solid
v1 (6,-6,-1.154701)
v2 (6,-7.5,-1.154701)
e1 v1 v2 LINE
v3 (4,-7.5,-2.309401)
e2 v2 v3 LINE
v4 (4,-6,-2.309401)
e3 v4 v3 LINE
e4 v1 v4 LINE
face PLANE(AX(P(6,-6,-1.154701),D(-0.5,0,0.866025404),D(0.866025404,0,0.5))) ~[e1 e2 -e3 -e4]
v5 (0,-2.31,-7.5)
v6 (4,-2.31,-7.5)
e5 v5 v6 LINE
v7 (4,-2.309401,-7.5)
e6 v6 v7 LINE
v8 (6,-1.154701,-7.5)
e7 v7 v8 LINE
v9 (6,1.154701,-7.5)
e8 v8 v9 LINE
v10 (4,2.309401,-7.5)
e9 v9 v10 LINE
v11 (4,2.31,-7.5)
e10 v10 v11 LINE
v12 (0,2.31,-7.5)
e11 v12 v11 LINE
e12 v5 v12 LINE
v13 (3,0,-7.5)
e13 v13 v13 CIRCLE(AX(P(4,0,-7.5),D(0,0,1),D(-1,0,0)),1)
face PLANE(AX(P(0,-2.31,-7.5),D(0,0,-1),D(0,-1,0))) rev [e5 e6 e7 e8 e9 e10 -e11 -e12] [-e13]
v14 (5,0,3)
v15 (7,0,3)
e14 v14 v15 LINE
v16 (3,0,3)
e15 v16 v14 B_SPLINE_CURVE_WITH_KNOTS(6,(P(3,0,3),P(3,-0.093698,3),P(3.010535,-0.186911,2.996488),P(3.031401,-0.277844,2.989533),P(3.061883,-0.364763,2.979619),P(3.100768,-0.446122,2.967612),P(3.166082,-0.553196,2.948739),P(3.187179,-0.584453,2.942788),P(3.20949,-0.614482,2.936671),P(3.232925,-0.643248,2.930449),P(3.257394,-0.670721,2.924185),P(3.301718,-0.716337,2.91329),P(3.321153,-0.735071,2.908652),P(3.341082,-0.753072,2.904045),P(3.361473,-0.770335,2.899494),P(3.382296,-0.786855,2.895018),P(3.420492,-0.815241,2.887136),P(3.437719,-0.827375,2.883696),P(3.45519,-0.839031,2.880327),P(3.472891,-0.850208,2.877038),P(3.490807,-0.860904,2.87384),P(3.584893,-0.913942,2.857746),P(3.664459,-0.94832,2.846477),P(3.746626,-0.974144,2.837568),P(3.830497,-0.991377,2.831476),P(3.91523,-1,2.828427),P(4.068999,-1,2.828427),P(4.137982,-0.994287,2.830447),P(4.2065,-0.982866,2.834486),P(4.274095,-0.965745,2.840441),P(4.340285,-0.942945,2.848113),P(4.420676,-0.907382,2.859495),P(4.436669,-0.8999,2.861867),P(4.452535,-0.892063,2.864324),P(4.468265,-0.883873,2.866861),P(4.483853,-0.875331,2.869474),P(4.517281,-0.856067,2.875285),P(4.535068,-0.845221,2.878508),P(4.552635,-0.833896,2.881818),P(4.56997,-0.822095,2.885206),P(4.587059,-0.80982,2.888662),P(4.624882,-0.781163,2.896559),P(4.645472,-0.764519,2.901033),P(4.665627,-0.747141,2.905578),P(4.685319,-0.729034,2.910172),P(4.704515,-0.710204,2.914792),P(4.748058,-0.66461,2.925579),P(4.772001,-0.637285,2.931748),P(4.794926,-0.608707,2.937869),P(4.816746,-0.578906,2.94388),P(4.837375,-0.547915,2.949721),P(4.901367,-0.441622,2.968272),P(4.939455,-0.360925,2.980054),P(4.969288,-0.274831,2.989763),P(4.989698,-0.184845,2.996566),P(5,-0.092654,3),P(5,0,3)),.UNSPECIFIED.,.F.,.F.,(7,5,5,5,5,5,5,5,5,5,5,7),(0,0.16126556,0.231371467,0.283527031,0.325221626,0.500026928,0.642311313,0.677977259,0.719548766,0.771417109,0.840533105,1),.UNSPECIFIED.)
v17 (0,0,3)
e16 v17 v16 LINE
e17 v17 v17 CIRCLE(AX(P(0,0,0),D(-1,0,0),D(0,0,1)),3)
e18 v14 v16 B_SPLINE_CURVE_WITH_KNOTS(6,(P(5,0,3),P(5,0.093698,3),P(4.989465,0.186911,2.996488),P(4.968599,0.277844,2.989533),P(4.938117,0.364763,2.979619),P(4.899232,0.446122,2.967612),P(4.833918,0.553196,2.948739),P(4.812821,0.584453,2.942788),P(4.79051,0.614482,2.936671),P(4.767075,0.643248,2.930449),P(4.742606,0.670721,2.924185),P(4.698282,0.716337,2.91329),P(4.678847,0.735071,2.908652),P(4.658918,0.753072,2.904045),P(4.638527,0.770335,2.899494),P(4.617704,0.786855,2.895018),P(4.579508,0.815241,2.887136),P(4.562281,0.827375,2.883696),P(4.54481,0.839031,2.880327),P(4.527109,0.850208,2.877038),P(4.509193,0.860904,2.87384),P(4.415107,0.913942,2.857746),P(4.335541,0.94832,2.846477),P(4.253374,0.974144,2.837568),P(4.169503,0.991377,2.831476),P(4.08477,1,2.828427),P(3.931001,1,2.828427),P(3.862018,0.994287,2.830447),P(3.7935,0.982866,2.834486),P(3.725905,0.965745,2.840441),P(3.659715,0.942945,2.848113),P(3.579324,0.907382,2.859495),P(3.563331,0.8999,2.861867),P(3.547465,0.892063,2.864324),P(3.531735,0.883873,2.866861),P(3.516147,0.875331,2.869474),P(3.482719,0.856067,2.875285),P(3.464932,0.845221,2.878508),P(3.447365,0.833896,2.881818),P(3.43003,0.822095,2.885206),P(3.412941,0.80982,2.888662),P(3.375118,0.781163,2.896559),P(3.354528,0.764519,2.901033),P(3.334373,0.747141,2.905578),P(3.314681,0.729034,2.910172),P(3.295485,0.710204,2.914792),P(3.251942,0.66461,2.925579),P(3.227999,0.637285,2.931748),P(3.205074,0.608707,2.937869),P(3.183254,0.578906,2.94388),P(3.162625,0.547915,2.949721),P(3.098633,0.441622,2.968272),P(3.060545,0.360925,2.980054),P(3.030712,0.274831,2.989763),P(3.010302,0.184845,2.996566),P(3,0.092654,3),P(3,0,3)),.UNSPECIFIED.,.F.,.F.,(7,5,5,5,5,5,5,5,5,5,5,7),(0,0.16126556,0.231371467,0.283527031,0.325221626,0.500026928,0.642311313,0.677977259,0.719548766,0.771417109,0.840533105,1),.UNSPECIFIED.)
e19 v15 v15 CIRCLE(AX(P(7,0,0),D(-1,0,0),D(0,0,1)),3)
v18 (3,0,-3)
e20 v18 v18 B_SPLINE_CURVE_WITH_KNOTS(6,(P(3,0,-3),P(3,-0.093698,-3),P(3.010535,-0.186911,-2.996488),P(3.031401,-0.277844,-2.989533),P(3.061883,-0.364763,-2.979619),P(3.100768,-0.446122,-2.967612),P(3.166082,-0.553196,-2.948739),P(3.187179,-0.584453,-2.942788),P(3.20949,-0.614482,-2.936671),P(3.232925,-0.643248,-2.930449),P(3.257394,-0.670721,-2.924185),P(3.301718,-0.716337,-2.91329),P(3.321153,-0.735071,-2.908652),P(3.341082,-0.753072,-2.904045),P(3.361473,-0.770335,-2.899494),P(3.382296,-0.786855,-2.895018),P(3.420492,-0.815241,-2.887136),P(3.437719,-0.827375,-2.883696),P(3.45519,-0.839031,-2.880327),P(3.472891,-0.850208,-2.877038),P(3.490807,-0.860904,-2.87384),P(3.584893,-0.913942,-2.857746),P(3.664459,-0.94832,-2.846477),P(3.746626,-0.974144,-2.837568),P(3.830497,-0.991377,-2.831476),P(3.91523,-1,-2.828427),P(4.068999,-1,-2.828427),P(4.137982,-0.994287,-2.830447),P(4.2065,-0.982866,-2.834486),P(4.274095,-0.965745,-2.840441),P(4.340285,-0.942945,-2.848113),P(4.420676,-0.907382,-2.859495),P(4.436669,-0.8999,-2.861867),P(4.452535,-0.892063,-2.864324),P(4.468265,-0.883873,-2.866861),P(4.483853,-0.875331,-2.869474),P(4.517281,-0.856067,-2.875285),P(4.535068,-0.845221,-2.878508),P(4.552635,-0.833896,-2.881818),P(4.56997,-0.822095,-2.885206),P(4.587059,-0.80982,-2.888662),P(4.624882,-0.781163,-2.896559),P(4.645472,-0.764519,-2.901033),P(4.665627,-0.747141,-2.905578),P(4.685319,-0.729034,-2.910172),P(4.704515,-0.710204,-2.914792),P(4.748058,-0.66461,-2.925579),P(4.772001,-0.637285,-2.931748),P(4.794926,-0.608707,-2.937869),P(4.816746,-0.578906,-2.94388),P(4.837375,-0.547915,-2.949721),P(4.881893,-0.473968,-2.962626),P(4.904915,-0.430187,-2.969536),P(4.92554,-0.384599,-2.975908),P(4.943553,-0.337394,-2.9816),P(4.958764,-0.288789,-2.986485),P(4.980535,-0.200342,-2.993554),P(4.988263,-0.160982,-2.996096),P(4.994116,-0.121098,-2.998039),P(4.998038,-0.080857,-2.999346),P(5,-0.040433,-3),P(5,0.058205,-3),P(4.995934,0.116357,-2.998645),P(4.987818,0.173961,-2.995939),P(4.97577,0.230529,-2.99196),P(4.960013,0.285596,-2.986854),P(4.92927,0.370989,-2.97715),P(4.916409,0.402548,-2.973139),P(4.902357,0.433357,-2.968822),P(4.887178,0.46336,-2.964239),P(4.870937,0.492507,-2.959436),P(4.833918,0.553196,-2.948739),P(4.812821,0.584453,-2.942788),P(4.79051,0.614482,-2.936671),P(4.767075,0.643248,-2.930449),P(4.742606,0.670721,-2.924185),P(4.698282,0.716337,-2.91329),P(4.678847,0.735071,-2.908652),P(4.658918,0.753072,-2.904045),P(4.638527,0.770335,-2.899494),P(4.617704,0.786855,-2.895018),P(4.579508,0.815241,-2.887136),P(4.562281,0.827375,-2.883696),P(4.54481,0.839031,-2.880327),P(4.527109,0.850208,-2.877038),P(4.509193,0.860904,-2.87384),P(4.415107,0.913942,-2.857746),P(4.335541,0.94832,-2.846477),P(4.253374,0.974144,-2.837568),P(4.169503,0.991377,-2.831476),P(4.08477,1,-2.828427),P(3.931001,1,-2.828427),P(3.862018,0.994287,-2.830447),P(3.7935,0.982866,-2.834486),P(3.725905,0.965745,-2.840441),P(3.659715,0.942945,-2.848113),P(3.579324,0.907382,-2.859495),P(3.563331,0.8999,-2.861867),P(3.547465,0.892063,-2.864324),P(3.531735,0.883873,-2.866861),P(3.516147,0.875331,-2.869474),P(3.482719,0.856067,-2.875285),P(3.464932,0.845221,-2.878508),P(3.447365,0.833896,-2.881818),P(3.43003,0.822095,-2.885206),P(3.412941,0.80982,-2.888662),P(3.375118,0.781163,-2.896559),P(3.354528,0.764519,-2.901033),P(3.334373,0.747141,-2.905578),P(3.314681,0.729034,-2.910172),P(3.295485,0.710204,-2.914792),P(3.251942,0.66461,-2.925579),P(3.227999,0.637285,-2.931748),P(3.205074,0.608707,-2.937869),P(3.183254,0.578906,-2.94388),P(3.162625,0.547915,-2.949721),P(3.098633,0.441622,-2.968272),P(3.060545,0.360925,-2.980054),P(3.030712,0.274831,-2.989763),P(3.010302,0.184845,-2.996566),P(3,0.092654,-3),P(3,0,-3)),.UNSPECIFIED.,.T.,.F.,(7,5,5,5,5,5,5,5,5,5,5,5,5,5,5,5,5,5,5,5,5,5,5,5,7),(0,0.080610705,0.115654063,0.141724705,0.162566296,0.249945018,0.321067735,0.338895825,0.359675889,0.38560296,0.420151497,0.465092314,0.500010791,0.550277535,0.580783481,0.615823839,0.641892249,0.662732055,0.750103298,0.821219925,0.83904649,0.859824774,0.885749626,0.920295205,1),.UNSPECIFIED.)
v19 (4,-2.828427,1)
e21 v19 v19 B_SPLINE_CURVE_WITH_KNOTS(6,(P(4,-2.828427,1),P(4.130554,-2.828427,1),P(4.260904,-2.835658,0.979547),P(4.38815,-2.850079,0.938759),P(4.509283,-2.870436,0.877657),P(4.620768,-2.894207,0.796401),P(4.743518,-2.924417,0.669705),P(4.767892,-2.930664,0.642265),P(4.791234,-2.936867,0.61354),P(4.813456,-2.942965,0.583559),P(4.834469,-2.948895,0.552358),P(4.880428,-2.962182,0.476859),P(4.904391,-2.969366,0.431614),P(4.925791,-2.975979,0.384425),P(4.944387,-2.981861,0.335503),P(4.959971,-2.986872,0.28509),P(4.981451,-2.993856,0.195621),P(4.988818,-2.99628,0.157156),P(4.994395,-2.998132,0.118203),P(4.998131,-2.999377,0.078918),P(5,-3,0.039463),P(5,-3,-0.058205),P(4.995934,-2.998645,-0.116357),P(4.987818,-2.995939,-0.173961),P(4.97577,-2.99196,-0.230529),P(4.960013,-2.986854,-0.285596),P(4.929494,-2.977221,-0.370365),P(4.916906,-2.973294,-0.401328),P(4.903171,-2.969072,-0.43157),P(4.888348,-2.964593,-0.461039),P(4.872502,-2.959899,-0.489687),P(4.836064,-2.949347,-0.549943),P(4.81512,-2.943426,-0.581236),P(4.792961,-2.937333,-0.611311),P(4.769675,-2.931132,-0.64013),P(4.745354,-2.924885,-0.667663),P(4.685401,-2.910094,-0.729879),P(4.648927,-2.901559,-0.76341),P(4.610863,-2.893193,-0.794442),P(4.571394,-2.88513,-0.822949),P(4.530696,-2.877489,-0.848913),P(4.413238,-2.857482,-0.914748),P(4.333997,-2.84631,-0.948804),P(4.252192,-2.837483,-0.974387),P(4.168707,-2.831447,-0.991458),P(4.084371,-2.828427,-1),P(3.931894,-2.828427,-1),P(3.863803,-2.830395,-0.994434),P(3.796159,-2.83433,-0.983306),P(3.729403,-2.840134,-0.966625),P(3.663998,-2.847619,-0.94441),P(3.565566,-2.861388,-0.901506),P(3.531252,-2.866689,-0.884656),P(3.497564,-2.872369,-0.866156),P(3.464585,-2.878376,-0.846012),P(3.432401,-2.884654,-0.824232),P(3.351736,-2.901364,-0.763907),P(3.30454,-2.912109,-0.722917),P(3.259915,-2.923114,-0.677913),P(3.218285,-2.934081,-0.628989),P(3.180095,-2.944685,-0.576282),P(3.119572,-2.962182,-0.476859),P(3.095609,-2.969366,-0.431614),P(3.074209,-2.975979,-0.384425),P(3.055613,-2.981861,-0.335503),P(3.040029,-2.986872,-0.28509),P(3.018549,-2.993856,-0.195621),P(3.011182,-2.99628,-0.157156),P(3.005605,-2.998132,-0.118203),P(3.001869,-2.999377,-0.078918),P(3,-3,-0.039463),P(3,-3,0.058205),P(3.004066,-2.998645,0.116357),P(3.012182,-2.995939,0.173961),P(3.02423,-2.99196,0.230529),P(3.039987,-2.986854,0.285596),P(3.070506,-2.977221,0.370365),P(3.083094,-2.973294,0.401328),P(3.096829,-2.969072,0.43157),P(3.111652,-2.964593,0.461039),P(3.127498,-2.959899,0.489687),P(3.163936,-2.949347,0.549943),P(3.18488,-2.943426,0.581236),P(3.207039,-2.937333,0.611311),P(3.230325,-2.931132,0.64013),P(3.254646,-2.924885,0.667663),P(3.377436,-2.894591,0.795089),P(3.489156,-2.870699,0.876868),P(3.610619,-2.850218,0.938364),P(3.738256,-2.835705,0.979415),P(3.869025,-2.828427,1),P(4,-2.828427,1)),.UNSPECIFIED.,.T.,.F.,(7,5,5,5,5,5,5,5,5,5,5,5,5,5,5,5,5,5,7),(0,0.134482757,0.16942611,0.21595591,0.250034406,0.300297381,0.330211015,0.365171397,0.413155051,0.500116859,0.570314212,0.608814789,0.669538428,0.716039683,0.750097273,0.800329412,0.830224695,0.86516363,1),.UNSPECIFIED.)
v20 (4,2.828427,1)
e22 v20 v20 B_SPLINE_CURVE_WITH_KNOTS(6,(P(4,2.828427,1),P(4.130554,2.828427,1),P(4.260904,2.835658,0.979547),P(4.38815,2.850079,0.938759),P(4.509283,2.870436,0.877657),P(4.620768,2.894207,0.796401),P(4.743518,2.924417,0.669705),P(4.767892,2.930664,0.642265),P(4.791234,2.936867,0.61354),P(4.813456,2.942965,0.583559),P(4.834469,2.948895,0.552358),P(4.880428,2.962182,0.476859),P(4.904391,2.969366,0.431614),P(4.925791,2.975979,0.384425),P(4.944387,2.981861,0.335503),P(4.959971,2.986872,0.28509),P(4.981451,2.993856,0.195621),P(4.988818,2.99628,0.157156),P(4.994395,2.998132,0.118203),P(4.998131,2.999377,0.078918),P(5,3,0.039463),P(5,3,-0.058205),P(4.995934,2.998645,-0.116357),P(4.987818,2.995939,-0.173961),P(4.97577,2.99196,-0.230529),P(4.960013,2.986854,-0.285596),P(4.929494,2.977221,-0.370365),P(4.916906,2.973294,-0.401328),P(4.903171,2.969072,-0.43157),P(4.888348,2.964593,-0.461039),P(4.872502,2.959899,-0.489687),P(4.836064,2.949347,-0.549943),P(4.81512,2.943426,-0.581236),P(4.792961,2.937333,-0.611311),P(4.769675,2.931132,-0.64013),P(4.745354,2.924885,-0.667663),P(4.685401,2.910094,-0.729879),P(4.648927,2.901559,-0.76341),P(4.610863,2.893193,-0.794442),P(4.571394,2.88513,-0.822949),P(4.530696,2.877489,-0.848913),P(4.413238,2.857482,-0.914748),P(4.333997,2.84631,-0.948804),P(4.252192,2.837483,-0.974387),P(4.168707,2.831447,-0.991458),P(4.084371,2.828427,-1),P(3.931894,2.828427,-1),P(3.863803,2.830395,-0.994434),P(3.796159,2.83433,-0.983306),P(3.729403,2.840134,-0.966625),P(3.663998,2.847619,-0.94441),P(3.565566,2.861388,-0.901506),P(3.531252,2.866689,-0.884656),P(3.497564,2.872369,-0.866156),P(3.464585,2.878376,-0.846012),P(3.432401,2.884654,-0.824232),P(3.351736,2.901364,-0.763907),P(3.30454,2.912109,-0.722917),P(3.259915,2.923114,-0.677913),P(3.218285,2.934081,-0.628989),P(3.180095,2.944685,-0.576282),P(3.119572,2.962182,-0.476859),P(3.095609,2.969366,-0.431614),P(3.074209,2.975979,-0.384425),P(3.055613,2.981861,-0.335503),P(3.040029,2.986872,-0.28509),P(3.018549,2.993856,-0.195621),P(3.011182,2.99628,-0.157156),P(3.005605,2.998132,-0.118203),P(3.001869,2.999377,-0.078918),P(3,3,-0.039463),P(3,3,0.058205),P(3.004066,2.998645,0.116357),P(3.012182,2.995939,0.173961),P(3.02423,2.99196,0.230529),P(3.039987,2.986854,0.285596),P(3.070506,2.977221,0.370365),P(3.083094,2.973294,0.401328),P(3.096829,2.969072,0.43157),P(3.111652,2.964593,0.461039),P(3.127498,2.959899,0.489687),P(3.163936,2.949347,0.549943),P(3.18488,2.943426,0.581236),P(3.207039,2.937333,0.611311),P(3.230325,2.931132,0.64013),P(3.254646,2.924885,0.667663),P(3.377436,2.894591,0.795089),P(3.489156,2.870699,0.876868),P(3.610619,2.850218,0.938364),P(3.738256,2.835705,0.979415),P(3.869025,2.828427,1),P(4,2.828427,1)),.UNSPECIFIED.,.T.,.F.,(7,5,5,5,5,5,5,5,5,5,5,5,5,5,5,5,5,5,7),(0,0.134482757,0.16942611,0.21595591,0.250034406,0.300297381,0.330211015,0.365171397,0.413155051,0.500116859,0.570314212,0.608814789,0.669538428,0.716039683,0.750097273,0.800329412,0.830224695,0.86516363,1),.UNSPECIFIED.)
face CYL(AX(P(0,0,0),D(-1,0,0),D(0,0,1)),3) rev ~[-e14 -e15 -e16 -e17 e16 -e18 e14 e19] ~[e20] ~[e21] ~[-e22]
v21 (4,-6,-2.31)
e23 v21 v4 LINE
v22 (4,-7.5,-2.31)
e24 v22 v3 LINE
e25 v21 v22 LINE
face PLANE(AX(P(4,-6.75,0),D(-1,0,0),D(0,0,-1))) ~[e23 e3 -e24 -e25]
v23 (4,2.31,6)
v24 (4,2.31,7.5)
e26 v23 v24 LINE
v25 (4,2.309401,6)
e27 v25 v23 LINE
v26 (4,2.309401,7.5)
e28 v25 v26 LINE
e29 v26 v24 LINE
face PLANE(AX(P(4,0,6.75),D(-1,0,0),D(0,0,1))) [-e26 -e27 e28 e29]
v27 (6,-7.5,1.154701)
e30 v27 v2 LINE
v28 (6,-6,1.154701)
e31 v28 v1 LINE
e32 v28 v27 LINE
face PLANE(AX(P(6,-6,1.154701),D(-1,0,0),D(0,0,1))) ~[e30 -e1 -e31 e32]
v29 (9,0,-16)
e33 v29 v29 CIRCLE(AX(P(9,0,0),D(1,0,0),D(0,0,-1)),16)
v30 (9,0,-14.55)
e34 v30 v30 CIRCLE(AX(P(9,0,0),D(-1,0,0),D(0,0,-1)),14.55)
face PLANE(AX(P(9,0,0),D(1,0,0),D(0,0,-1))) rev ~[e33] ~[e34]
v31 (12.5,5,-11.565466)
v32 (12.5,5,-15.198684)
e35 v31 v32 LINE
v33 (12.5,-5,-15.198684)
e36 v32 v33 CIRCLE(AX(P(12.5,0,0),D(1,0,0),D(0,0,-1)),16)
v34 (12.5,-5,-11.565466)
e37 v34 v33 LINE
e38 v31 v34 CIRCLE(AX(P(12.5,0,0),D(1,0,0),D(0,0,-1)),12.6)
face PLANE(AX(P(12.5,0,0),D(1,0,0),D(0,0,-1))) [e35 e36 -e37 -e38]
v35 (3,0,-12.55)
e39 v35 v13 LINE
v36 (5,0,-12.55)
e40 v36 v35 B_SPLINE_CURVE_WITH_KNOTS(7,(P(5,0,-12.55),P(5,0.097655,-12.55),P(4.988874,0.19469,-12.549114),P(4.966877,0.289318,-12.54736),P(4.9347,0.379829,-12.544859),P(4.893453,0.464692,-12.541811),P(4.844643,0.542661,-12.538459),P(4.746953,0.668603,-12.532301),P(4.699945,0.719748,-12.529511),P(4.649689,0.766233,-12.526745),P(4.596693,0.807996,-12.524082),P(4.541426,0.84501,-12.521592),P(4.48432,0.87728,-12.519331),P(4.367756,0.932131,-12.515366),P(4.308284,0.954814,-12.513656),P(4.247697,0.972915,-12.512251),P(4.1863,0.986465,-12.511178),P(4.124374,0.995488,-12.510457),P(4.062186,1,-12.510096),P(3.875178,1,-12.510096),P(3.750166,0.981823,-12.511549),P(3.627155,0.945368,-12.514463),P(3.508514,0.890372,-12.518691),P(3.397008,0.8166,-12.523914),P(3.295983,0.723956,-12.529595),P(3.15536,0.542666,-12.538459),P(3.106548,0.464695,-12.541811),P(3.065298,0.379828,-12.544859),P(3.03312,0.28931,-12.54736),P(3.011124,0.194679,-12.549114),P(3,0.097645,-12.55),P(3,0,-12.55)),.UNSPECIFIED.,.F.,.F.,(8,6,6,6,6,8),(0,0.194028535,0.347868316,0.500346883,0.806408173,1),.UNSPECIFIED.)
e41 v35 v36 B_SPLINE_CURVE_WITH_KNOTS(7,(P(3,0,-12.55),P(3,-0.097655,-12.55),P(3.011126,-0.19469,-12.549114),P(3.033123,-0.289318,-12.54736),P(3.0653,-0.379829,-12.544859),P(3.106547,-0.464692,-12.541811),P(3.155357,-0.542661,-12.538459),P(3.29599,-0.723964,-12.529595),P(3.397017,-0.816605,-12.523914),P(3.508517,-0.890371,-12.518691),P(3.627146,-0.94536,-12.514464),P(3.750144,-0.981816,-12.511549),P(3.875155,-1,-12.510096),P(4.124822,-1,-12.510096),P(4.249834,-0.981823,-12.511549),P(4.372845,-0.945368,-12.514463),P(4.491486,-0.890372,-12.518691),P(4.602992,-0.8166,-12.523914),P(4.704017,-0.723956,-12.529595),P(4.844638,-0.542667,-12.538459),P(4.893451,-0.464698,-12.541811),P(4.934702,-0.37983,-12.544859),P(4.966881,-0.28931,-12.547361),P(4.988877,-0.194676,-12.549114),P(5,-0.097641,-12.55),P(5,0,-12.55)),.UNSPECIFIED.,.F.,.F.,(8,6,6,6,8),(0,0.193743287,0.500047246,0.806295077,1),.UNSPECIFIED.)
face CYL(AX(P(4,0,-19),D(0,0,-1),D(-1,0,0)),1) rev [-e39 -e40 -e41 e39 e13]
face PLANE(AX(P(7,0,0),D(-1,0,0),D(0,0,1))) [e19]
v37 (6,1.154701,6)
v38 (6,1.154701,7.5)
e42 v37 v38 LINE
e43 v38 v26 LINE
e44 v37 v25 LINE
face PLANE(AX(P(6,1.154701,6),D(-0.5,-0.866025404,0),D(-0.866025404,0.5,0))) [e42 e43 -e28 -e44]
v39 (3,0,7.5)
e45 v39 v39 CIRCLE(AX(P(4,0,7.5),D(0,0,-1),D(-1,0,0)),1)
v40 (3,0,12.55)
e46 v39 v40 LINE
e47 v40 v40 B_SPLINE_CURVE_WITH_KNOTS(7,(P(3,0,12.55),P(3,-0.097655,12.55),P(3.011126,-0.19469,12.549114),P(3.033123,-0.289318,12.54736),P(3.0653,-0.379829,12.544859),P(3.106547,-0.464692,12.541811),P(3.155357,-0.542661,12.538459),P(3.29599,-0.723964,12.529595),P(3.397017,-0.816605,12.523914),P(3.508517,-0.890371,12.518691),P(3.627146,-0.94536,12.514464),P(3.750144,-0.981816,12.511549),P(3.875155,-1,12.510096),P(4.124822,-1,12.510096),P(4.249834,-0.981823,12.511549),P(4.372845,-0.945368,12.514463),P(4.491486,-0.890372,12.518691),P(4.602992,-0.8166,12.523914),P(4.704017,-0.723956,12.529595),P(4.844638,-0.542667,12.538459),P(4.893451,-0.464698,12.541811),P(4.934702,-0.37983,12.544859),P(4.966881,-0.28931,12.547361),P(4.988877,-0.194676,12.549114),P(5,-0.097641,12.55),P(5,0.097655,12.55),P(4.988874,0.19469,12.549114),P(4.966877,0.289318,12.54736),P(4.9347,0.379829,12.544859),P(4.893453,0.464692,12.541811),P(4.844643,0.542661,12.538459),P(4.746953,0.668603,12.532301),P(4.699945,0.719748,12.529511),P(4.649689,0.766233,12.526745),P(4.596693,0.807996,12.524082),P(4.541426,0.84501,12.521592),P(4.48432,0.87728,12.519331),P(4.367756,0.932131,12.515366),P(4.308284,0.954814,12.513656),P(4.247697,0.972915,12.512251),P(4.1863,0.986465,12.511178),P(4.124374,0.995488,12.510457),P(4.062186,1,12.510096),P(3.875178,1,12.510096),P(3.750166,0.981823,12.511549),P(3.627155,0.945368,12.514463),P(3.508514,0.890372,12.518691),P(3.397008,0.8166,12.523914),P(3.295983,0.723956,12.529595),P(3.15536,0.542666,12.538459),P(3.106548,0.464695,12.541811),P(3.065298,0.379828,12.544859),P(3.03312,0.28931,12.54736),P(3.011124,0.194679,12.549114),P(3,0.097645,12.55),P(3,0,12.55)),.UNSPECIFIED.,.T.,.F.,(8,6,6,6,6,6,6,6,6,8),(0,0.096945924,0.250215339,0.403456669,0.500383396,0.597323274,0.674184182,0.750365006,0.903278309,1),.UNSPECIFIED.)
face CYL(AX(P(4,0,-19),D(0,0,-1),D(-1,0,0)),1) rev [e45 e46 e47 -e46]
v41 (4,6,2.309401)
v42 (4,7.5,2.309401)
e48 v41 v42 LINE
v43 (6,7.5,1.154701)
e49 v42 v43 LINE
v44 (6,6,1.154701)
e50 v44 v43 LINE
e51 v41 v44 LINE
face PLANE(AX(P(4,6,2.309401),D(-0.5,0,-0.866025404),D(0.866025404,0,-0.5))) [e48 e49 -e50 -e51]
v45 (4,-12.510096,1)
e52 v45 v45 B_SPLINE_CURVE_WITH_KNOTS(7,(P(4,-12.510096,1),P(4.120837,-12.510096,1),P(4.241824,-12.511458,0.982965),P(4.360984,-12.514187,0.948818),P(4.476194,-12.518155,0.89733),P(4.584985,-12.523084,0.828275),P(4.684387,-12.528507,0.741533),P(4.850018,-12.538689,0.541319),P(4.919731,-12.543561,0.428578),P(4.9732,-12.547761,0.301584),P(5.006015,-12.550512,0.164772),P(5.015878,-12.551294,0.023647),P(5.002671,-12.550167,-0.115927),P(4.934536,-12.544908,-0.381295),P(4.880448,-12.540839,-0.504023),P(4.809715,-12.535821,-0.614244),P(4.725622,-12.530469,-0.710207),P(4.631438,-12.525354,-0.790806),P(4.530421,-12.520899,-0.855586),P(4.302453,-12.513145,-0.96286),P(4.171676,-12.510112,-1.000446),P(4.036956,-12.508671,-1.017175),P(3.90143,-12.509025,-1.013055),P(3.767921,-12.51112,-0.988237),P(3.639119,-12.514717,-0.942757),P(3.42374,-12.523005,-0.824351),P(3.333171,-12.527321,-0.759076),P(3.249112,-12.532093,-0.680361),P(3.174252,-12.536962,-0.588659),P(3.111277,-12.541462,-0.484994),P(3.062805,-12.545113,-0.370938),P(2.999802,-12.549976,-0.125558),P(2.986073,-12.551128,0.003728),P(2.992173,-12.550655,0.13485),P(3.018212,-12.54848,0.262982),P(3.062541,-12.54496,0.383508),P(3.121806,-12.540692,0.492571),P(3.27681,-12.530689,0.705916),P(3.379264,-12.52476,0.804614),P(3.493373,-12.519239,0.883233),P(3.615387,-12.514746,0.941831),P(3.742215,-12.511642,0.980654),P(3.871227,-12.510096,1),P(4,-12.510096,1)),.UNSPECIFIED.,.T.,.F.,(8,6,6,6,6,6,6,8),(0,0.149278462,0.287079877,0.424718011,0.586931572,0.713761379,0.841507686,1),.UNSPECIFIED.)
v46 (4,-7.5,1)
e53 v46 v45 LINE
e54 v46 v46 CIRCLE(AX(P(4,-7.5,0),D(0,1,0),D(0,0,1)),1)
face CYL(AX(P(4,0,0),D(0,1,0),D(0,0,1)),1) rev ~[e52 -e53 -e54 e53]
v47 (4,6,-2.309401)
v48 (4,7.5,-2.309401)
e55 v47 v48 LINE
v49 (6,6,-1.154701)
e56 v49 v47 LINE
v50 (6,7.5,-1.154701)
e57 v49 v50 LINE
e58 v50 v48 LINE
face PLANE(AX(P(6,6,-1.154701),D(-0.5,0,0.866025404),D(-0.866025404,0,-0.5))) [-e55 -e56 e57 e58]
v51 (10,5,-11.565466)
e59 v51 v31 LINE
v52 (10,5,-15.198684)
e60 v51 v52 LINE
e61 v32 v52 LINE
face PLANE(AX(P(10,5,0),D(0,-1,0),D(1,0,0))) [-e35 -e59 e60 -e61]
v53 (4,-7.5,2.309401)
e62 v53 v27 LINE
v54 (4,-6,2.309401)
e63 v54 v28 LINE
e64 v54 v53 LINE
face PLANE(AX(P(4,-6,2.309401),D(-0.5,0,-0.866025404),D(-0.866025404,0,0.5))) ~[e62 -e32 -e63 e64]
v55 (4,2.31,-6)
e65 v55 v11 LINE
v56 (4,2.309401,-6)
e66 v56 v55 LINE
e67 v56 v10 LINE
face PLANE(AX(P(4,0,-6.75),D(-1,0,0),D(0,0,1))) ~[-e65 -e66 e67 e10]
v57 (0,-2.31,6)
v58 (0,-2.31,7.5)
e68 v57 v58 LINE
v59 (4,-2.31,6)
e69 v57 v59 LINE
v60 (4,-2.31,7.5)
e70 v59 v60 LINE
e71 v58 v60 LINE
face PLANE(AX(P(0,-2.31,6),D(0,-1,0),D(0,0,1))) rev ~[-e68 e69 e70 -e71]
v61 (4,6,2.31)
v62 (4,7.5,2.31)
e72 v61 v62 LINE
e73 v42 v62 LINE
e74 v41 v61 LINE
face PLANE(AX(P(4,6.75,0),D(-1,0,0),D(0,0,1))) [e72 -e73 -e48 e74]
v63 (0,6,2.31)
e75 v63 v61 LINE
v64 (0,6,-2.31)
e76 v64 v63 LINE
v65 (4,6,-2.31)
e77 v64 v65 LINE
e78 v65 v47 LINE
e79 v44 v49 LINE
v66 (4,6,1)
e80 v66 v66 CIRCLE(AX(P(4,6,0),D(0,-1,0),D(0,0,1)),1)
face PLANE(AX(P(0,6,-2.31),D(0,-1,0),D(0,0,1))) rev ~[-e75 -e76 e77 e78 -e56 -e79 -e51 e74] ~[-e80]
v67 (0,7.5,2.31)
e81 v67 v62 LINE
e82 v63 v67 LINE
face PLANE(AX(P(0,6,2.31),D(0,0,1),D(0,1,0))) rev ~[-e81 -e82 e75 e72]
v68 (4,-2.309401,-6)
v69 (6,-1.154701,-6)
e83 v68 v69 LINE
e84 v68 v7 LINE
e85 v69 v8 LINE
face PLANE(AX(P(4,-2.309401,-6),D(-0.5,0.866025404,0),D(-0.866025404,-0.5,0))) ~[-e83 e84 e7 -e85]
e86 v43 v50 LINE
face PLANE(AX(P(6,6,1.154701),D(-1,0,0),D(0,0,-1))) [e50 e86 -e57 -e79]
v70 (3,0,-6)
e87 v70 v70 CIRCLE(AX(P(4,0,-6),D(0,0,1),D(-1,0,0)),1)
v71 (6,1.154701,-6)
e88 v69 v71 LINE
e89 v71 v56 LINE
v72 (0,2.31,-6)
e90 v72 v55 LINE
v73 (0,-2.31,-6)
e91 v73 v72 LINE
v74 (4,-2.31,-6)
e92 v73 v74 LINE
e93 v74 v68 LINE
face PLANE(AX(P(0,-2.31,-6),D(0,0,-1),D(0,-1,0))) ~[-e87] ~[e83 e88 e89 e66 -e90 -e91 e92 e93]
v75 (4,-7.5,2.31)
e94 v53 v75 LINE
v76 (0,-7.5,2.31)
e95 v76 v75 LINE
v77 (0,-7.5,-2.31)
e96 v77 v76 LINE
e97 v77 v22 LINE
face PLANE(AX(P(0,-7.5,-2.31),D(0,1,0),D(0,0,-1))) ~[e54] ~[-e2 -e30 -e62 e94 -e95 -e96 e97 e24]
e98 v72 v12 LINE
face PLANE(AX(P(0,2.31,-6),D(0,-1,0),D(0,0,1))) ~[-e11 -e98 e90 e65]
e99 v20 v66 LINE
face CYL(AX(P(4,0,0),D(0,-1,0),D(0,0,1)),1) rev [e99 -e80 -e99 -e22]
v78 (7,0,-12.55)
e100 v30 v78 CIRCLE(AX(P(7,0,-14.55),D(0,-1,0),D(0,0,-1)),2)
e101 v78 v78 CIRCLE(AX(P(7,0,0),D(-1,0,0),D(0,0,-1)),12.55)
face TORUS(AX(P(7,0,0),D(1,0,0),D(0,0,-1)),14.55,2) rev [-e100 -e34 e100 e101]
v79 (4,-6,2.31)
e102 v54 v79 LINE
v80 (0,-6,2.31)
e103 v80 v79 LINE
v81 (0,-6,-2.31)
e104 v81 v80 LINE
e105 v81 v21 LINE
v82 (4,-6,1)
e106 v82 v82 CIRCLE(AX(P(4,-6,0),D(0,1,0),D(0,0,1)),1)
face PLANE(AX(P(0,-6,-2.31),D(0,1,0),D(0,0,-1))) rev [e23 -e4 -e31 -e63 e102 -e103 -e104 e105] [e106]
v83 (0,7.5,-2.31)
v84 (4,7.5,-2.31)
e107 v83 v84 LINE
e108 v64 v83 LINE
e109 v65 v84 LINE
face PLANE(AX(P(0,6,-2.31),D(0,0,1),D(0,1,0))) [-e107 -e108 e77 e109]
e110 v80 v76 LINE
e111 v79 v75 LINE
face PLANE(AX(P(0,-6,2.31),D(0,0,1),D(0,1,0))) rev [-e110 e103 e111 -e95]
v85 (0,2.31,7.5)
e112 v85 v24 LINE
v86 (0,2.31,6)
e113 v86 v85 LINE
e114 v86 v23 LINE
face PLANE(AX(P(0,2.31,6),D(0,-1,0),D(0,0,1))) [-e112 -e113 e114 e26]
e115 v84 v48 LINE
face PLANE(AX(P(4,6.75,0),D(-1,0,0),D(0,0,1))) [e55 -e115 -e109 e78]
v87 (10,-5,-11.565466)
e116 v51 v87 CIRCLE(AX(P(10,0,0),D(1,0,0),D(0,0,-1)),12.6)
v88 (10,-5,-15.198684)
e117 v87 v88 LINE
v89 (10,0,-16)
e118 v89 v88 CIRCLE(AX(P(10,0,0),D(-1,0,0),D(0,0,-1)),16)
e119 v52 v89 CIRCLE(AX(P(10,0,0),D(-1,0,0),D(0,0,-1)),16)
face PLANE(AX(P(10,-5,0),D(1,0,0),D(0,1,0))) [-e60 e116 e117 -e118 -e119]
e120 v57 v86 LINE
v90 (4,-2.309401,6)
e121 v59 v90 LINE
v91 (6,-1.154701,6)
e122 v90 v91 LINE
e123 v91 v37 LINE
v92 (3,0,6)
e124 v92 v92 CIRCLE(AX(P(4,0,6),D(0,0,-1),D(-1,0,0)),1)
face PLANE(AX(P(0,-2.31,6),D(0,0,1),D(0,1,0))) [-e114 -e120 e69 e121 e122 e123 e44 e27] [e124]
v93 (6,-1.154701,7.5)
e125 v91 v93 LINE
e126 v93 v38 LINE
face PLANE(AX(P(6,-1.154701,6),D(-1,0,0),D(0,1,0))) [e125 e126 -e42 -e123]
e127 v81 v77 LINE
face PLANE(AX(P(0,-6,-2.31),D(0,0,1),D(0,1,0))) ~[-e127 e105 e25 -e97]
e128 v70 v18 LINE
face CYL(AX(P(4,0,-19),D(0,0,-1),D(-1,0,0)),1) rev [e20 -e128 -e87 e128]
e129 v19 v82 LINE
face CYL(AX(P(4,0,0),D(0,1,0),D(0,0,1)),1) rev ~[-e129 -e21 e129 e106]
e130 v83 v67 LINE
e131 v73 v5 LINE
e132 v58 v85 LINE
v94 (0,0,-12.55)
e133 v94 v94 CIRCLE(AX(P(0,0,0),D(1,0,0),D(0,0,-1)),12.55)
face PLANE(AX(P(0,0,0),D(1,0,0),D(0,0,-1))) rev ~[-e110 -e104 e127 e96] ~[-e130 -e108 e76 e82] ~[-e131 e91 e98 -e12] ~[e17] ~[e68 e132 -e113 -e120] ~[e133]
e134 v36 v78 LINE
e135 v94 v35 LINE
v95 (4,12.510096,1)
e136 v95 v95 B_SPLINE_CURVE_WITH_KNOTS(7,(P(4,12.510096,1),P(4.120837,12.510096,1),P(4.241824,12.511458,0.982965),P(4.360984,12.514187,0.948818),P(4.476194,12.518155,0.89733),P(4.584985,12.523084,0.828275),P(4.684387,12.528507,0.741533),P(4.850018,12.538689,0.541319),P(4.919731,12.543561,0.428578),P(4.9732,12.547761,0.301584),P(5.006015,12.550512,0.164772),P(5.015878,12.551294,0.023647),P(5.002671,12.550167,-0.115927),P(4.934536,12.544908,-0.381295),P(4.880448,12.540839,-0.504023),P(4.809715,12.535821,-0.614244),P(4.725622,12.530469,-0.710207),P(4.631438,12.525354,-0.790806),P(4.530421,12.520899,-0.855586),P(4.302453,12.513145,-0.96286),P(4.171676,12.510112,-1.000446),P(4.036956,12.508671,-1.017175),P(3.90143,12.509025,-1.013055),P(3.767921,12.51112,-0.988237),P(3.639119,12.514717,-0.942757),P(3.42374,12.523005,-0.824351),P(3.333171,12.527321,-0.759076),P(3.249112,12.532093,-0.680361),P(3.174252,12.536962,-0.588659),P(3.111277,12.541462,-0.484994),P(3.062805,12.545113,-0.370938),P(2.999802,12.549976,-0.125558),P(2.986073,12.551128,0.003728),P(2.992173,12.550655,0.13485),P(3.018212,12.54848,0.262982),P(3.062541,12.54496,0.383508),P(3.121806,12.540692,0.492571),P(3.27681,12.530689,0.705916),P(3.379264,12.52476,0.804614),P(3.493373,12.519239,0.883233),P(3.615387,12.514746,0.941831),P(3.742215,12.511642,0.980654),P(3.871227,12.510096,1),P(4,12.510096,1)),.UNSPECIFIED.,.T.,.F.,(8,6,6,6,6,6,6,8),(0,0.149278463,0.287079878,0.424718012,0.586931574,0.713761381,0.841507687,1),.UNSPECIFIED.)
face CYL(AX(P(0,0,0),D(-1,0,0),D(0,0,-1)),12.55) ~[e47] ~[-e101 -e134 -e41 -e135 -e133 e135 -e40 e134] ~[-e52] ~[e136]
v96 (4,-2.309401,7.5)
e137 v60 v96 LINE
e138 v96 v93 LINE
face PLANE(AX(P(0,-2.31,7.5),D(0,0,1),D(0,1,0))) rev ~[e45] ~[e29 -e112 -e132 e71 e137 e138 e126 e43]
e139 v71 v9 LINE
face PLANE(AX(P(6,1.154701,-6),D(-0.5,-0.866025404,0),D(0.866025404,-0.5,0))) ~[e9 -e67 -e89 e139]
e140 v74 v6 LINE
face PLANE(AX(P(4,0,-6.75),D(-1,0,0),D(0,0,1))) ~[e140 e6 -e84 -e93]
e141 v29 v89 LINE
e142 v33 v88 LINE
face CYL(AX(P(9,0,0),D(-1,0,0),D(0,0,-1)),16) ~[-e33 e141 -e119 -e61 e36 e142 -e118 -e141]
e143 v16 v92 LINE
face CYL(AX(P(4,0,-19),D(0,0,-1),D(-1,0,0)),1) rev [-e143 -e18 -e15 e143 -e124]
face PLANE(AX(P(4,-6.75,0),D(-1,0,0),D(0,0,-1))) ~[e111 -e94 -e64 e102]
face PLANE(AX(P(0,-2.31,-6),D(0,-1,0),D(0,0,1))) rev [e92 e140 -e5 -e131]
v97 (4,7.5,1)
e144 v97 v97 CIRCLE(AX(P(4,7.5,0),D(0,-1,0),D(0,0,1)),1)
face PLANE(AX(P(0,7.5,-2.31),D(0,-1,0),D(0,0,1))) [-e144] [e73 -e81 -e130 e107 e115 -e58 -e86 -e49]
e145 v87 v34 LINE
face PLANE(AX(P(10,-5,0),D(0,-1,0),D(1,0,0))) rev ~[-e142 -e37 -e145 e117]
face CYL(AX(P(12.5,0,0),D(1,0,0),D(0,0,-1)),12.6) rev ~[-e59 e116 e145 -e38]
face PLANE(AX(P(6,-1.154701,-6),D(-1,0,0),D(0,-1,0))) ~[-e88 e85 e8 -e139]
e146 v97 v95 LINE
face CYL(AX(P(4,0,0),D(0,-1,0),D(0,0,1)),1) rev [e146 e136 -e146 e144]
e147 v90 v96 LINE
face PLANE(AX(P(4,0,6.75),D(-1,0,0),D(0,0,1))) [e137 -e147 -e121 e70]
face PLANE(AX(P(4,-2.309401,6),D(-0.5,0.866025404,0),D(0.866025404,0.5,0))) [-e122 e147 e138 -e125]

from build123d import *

# Parameters (mm, degrees)
SKETCH_1_R                      = 12.55
EXTRUDE_1_DEPTH                 = 10
SKETCH_2_R                      = 3
CUT_EXTRUDE_1_DEPTH             = 7
CUT_EXTRUDE_2_REACH             = 22.372
SKETCH_3_R                      = 1
CUT_EXTRUDE_2_DIRECTION_2_REACH = 22.372
CUT_EXTRUDE_3_DEPTH             = 21
CUT_EXTRUDE_3_DEPTH_BACK        = 19
SKETCH_4_R                      = 1
EXTRUDE_2_DEPTH                 = 2.5
EXTRUDE_2_DEPTH_BACK            = 1
SKETCH_5_R                      = 16
SKETCH_6_R                      = 12.6
CUT_EXTRUDE_4_DEPTH             = 2.5
FILLET_1_R                      = 2
SKETCH_7_W                      = 2.5
SKETCH_7_H                      = 10
CUT_EXTRUDE_5_DEPTH             = 21.5
CUT_EXTRUDE_7_DEPTH             = 1.5
SKETCH_13_W                     = 4.62
SKETCH_13_H                     = 1.5
CUT_EXTRUDE_8_DEPTH             = 4
SKETCH_14_W                     = 1.5
SKETCH_14_H                     = 4.62
CUT_EXTRUDE_9_DEPTH             = 4
CUT_EXTRUDE_10_DEPTH            = 1.5


with BuildPart() as part:
    # 草图1 → 凸台-拉伸1 (new body)
    with BuildSketch(Plane(origin=(0, 0, 0), x_dir=(0, 0, -1), z_dir=(1, 0, 0))):
        Circle(SKETCH_1_R)
    extrude(amount=EXTRUDE_1_DEPTH)

    # 草图2 → 切除-拉伸1 (cut)
    with BuildSketch(Plane.ZY):
        Circle(SKETCH_2_R)
    extrude(amount=-CUT_EXTRUDE_1_DEPTH, mode=Mode.SUBTRACT)

    # 草图3 → 切除-拉伸2 (cut, up to next)
    with BuildSketch(Plane(origin=(0, 0, 0), x_dir=(1, 0, 0), z_dir=(0, 1, 0)), mode=Mode.PRIVATE) as cut_extrude_2_sk1:
        with Locations(Location((4, 0, 0), (0, 0, 270))):
            Circle(SKETCH_3_R)
    cut_extrude_2_tool1 = extrude(cut_extrude_2_sk1.sketch, amount=-CUT_EXTRUDE_2_REACH, mode=Mode.PRIVATE) & part.part
    add(cut_extrude_2_tool1.solids().sort_by_distance((4, 0, 0))[0], mode=Mode.SUBTRACT)

    # 草图3 → 切除-拉伸2 direction 2 (cut, up to next)
    with BuildSketch(Plane(origin=(0, 0, 0), x_dir=(1, 0, 0), z_dir=(0, 1, 0)), mode=Mode.PRIVATE) as cut_extrude_2_direction_2_sk1:
        with Locations(Location((4, 0, 0), (0, 0, 270))):
            Circle(SKETCH_3_R)
    cut_extrude_2_direction_2_tool1 = extrude(cut_extrude_2_direction_2_sk1.sketch, amount=CUT_EXTRUDE_2_DIRECTION_2_REACH, mode=Mode.PRIVATE) & part.part
    add(cut_extrude_2_direction_2_tool1.solids().sort_by_distance((4, 0, 0))[0], mode=Mode.SUBTRACT)

    # 草图4 → 切除-拉伸3 (cut, two sides: drawn at the far end of the back side and taken through both)
    with BuildSketch(Plane.XY.offset(-CUT_EXTRUDE_3_DEPTH_BACK)):
        with Locations(Location((4, 0, 0), (0, 0, 180))):
            Circle(SKETCH_4_R)
    extrude(amount=CUT_EXTRUDE_3_DEPTH + CUT_EXTRUDE_3_DEPTH_BACK, mode=Mode.SUBTRACT)

    # 草图5 → 凸台-拉伸2 (add, two sides: drawn at the far end of the back side and taken through both)
    with BuildSketch(Plane(origin=(10, 0, 0), x_dir=(0, 0, -1), z_dir=(1, 0, 0)).offset(-EXTRUDE_2_DEPTH_BACK)):
        Circle(SKETCH_5_R)
    extrude(amount=EXTRUDE_2_DEPTH + EXTRUDE_2_DEPTH_BACK)

    # 草图6 → 切除-拉伸4 (cut)
    with BuildSketch(Plane(origin=(12.5, 0, 0), x_dir=(0, 0, -1), z_dir=(1, 0, 0))):
        Circle(SKETCH_6_R)
    extrude(amount=-CUT_EXTRUDE_4_DEPTH, mode=Mode.SUBTRACT)

    # 圆角1
    fillet_1_edges = [part.edges().sort_by_distance(p)[0] for p in [
        (9, 0, 12.55),
    ]]
    fillet(fillet_1_edges, radius=FILLET_1_R)

    # 草图7 → 切除-拉伸5 (cut)
    with BuildSketch(Plane.XY):
        with Locations((11.25, 0)):
            Rectangle(SKETCH_7_W, SKETCH_7_H)
    extrude(amount=-CUT_EXTRUDE_5_DEPTH, mode=Mode.SUBTRACT)

    # 草图11 → 切除-拉伸7 (cut)
    with BuildSketch(Plane(origin=(0, 6, 0), x_dir=(1, 0, 0), z_dir=(0, 1, 0))):
        Polygon((4, 2.309401077), (2, 1.154700538), (2, -1.154700538), (4, -2.309401077), (6, -1.154700538), (6, 1.154700538), align=None)
    cut_extrude_7 = extrude(amount=CUT_EXTRUDE_7_DEPTH, mode=Mode.SUBTRACT)

    # 草图13 → 切除-拉伸8 (cut)
    with BuildSketch(Plane.ZY):
        with Locations((0, 6.75)):
            Rectangle(SKETCH_13_W, SKETCH_13_H)
    cut_extrude_8 = extrude(amount=-CUT_EXTRUDE_8_DEPTH, mode=Mode.SUBTRACT)

    # 草图14 → 切除-拉伸9 (cut)
    with BuildSketch(Plane.ZY):
        with Locations((6.75, 0)):
            Rectangle(SKETCH_14_W, SKETCH_14_H)
    cut_extrude_9 = extrude(amount=-CUT_EXTRUDE_9_DEPTH, mode=Mode.SUBTRACT)

    # 草图9 → 切除-拉伸10 (cut)
    with BuildSketch(Plane.XY.offset(6)):
        Polygon((4, 2.309401077), (2, 1.154700538), (2, -1.154700538), (4, -2.309401077), (6, -1.154700538), (6, 1.154700538), align=None)
    cut_extrude_10 = extrude(amount=CUT_EXTRUDE_10_DEPTH, mode=Mode.SUBTRACT)

    # 镜向1: 切除-拉伸9, 切除-拉伸10 across plane
    add(cut_extrude_9.mirror(Plane.XY), mode=Mode.SUBTRACT)
    add(cut_extrude_10.mirror(Plane.XY), mode=Mode.SUBTRACT)

    # 镜向2: 切除-拉伸7, 切除-拉伸8 across plane
    add(cut_extrude_7.mirror(Plane.ZX), mode=Mode.SUBTRACT)
    add(cut_extrude_8.mirror(Plane.ZX), mode=Mode.SUBTRACT)


solid = part.part
